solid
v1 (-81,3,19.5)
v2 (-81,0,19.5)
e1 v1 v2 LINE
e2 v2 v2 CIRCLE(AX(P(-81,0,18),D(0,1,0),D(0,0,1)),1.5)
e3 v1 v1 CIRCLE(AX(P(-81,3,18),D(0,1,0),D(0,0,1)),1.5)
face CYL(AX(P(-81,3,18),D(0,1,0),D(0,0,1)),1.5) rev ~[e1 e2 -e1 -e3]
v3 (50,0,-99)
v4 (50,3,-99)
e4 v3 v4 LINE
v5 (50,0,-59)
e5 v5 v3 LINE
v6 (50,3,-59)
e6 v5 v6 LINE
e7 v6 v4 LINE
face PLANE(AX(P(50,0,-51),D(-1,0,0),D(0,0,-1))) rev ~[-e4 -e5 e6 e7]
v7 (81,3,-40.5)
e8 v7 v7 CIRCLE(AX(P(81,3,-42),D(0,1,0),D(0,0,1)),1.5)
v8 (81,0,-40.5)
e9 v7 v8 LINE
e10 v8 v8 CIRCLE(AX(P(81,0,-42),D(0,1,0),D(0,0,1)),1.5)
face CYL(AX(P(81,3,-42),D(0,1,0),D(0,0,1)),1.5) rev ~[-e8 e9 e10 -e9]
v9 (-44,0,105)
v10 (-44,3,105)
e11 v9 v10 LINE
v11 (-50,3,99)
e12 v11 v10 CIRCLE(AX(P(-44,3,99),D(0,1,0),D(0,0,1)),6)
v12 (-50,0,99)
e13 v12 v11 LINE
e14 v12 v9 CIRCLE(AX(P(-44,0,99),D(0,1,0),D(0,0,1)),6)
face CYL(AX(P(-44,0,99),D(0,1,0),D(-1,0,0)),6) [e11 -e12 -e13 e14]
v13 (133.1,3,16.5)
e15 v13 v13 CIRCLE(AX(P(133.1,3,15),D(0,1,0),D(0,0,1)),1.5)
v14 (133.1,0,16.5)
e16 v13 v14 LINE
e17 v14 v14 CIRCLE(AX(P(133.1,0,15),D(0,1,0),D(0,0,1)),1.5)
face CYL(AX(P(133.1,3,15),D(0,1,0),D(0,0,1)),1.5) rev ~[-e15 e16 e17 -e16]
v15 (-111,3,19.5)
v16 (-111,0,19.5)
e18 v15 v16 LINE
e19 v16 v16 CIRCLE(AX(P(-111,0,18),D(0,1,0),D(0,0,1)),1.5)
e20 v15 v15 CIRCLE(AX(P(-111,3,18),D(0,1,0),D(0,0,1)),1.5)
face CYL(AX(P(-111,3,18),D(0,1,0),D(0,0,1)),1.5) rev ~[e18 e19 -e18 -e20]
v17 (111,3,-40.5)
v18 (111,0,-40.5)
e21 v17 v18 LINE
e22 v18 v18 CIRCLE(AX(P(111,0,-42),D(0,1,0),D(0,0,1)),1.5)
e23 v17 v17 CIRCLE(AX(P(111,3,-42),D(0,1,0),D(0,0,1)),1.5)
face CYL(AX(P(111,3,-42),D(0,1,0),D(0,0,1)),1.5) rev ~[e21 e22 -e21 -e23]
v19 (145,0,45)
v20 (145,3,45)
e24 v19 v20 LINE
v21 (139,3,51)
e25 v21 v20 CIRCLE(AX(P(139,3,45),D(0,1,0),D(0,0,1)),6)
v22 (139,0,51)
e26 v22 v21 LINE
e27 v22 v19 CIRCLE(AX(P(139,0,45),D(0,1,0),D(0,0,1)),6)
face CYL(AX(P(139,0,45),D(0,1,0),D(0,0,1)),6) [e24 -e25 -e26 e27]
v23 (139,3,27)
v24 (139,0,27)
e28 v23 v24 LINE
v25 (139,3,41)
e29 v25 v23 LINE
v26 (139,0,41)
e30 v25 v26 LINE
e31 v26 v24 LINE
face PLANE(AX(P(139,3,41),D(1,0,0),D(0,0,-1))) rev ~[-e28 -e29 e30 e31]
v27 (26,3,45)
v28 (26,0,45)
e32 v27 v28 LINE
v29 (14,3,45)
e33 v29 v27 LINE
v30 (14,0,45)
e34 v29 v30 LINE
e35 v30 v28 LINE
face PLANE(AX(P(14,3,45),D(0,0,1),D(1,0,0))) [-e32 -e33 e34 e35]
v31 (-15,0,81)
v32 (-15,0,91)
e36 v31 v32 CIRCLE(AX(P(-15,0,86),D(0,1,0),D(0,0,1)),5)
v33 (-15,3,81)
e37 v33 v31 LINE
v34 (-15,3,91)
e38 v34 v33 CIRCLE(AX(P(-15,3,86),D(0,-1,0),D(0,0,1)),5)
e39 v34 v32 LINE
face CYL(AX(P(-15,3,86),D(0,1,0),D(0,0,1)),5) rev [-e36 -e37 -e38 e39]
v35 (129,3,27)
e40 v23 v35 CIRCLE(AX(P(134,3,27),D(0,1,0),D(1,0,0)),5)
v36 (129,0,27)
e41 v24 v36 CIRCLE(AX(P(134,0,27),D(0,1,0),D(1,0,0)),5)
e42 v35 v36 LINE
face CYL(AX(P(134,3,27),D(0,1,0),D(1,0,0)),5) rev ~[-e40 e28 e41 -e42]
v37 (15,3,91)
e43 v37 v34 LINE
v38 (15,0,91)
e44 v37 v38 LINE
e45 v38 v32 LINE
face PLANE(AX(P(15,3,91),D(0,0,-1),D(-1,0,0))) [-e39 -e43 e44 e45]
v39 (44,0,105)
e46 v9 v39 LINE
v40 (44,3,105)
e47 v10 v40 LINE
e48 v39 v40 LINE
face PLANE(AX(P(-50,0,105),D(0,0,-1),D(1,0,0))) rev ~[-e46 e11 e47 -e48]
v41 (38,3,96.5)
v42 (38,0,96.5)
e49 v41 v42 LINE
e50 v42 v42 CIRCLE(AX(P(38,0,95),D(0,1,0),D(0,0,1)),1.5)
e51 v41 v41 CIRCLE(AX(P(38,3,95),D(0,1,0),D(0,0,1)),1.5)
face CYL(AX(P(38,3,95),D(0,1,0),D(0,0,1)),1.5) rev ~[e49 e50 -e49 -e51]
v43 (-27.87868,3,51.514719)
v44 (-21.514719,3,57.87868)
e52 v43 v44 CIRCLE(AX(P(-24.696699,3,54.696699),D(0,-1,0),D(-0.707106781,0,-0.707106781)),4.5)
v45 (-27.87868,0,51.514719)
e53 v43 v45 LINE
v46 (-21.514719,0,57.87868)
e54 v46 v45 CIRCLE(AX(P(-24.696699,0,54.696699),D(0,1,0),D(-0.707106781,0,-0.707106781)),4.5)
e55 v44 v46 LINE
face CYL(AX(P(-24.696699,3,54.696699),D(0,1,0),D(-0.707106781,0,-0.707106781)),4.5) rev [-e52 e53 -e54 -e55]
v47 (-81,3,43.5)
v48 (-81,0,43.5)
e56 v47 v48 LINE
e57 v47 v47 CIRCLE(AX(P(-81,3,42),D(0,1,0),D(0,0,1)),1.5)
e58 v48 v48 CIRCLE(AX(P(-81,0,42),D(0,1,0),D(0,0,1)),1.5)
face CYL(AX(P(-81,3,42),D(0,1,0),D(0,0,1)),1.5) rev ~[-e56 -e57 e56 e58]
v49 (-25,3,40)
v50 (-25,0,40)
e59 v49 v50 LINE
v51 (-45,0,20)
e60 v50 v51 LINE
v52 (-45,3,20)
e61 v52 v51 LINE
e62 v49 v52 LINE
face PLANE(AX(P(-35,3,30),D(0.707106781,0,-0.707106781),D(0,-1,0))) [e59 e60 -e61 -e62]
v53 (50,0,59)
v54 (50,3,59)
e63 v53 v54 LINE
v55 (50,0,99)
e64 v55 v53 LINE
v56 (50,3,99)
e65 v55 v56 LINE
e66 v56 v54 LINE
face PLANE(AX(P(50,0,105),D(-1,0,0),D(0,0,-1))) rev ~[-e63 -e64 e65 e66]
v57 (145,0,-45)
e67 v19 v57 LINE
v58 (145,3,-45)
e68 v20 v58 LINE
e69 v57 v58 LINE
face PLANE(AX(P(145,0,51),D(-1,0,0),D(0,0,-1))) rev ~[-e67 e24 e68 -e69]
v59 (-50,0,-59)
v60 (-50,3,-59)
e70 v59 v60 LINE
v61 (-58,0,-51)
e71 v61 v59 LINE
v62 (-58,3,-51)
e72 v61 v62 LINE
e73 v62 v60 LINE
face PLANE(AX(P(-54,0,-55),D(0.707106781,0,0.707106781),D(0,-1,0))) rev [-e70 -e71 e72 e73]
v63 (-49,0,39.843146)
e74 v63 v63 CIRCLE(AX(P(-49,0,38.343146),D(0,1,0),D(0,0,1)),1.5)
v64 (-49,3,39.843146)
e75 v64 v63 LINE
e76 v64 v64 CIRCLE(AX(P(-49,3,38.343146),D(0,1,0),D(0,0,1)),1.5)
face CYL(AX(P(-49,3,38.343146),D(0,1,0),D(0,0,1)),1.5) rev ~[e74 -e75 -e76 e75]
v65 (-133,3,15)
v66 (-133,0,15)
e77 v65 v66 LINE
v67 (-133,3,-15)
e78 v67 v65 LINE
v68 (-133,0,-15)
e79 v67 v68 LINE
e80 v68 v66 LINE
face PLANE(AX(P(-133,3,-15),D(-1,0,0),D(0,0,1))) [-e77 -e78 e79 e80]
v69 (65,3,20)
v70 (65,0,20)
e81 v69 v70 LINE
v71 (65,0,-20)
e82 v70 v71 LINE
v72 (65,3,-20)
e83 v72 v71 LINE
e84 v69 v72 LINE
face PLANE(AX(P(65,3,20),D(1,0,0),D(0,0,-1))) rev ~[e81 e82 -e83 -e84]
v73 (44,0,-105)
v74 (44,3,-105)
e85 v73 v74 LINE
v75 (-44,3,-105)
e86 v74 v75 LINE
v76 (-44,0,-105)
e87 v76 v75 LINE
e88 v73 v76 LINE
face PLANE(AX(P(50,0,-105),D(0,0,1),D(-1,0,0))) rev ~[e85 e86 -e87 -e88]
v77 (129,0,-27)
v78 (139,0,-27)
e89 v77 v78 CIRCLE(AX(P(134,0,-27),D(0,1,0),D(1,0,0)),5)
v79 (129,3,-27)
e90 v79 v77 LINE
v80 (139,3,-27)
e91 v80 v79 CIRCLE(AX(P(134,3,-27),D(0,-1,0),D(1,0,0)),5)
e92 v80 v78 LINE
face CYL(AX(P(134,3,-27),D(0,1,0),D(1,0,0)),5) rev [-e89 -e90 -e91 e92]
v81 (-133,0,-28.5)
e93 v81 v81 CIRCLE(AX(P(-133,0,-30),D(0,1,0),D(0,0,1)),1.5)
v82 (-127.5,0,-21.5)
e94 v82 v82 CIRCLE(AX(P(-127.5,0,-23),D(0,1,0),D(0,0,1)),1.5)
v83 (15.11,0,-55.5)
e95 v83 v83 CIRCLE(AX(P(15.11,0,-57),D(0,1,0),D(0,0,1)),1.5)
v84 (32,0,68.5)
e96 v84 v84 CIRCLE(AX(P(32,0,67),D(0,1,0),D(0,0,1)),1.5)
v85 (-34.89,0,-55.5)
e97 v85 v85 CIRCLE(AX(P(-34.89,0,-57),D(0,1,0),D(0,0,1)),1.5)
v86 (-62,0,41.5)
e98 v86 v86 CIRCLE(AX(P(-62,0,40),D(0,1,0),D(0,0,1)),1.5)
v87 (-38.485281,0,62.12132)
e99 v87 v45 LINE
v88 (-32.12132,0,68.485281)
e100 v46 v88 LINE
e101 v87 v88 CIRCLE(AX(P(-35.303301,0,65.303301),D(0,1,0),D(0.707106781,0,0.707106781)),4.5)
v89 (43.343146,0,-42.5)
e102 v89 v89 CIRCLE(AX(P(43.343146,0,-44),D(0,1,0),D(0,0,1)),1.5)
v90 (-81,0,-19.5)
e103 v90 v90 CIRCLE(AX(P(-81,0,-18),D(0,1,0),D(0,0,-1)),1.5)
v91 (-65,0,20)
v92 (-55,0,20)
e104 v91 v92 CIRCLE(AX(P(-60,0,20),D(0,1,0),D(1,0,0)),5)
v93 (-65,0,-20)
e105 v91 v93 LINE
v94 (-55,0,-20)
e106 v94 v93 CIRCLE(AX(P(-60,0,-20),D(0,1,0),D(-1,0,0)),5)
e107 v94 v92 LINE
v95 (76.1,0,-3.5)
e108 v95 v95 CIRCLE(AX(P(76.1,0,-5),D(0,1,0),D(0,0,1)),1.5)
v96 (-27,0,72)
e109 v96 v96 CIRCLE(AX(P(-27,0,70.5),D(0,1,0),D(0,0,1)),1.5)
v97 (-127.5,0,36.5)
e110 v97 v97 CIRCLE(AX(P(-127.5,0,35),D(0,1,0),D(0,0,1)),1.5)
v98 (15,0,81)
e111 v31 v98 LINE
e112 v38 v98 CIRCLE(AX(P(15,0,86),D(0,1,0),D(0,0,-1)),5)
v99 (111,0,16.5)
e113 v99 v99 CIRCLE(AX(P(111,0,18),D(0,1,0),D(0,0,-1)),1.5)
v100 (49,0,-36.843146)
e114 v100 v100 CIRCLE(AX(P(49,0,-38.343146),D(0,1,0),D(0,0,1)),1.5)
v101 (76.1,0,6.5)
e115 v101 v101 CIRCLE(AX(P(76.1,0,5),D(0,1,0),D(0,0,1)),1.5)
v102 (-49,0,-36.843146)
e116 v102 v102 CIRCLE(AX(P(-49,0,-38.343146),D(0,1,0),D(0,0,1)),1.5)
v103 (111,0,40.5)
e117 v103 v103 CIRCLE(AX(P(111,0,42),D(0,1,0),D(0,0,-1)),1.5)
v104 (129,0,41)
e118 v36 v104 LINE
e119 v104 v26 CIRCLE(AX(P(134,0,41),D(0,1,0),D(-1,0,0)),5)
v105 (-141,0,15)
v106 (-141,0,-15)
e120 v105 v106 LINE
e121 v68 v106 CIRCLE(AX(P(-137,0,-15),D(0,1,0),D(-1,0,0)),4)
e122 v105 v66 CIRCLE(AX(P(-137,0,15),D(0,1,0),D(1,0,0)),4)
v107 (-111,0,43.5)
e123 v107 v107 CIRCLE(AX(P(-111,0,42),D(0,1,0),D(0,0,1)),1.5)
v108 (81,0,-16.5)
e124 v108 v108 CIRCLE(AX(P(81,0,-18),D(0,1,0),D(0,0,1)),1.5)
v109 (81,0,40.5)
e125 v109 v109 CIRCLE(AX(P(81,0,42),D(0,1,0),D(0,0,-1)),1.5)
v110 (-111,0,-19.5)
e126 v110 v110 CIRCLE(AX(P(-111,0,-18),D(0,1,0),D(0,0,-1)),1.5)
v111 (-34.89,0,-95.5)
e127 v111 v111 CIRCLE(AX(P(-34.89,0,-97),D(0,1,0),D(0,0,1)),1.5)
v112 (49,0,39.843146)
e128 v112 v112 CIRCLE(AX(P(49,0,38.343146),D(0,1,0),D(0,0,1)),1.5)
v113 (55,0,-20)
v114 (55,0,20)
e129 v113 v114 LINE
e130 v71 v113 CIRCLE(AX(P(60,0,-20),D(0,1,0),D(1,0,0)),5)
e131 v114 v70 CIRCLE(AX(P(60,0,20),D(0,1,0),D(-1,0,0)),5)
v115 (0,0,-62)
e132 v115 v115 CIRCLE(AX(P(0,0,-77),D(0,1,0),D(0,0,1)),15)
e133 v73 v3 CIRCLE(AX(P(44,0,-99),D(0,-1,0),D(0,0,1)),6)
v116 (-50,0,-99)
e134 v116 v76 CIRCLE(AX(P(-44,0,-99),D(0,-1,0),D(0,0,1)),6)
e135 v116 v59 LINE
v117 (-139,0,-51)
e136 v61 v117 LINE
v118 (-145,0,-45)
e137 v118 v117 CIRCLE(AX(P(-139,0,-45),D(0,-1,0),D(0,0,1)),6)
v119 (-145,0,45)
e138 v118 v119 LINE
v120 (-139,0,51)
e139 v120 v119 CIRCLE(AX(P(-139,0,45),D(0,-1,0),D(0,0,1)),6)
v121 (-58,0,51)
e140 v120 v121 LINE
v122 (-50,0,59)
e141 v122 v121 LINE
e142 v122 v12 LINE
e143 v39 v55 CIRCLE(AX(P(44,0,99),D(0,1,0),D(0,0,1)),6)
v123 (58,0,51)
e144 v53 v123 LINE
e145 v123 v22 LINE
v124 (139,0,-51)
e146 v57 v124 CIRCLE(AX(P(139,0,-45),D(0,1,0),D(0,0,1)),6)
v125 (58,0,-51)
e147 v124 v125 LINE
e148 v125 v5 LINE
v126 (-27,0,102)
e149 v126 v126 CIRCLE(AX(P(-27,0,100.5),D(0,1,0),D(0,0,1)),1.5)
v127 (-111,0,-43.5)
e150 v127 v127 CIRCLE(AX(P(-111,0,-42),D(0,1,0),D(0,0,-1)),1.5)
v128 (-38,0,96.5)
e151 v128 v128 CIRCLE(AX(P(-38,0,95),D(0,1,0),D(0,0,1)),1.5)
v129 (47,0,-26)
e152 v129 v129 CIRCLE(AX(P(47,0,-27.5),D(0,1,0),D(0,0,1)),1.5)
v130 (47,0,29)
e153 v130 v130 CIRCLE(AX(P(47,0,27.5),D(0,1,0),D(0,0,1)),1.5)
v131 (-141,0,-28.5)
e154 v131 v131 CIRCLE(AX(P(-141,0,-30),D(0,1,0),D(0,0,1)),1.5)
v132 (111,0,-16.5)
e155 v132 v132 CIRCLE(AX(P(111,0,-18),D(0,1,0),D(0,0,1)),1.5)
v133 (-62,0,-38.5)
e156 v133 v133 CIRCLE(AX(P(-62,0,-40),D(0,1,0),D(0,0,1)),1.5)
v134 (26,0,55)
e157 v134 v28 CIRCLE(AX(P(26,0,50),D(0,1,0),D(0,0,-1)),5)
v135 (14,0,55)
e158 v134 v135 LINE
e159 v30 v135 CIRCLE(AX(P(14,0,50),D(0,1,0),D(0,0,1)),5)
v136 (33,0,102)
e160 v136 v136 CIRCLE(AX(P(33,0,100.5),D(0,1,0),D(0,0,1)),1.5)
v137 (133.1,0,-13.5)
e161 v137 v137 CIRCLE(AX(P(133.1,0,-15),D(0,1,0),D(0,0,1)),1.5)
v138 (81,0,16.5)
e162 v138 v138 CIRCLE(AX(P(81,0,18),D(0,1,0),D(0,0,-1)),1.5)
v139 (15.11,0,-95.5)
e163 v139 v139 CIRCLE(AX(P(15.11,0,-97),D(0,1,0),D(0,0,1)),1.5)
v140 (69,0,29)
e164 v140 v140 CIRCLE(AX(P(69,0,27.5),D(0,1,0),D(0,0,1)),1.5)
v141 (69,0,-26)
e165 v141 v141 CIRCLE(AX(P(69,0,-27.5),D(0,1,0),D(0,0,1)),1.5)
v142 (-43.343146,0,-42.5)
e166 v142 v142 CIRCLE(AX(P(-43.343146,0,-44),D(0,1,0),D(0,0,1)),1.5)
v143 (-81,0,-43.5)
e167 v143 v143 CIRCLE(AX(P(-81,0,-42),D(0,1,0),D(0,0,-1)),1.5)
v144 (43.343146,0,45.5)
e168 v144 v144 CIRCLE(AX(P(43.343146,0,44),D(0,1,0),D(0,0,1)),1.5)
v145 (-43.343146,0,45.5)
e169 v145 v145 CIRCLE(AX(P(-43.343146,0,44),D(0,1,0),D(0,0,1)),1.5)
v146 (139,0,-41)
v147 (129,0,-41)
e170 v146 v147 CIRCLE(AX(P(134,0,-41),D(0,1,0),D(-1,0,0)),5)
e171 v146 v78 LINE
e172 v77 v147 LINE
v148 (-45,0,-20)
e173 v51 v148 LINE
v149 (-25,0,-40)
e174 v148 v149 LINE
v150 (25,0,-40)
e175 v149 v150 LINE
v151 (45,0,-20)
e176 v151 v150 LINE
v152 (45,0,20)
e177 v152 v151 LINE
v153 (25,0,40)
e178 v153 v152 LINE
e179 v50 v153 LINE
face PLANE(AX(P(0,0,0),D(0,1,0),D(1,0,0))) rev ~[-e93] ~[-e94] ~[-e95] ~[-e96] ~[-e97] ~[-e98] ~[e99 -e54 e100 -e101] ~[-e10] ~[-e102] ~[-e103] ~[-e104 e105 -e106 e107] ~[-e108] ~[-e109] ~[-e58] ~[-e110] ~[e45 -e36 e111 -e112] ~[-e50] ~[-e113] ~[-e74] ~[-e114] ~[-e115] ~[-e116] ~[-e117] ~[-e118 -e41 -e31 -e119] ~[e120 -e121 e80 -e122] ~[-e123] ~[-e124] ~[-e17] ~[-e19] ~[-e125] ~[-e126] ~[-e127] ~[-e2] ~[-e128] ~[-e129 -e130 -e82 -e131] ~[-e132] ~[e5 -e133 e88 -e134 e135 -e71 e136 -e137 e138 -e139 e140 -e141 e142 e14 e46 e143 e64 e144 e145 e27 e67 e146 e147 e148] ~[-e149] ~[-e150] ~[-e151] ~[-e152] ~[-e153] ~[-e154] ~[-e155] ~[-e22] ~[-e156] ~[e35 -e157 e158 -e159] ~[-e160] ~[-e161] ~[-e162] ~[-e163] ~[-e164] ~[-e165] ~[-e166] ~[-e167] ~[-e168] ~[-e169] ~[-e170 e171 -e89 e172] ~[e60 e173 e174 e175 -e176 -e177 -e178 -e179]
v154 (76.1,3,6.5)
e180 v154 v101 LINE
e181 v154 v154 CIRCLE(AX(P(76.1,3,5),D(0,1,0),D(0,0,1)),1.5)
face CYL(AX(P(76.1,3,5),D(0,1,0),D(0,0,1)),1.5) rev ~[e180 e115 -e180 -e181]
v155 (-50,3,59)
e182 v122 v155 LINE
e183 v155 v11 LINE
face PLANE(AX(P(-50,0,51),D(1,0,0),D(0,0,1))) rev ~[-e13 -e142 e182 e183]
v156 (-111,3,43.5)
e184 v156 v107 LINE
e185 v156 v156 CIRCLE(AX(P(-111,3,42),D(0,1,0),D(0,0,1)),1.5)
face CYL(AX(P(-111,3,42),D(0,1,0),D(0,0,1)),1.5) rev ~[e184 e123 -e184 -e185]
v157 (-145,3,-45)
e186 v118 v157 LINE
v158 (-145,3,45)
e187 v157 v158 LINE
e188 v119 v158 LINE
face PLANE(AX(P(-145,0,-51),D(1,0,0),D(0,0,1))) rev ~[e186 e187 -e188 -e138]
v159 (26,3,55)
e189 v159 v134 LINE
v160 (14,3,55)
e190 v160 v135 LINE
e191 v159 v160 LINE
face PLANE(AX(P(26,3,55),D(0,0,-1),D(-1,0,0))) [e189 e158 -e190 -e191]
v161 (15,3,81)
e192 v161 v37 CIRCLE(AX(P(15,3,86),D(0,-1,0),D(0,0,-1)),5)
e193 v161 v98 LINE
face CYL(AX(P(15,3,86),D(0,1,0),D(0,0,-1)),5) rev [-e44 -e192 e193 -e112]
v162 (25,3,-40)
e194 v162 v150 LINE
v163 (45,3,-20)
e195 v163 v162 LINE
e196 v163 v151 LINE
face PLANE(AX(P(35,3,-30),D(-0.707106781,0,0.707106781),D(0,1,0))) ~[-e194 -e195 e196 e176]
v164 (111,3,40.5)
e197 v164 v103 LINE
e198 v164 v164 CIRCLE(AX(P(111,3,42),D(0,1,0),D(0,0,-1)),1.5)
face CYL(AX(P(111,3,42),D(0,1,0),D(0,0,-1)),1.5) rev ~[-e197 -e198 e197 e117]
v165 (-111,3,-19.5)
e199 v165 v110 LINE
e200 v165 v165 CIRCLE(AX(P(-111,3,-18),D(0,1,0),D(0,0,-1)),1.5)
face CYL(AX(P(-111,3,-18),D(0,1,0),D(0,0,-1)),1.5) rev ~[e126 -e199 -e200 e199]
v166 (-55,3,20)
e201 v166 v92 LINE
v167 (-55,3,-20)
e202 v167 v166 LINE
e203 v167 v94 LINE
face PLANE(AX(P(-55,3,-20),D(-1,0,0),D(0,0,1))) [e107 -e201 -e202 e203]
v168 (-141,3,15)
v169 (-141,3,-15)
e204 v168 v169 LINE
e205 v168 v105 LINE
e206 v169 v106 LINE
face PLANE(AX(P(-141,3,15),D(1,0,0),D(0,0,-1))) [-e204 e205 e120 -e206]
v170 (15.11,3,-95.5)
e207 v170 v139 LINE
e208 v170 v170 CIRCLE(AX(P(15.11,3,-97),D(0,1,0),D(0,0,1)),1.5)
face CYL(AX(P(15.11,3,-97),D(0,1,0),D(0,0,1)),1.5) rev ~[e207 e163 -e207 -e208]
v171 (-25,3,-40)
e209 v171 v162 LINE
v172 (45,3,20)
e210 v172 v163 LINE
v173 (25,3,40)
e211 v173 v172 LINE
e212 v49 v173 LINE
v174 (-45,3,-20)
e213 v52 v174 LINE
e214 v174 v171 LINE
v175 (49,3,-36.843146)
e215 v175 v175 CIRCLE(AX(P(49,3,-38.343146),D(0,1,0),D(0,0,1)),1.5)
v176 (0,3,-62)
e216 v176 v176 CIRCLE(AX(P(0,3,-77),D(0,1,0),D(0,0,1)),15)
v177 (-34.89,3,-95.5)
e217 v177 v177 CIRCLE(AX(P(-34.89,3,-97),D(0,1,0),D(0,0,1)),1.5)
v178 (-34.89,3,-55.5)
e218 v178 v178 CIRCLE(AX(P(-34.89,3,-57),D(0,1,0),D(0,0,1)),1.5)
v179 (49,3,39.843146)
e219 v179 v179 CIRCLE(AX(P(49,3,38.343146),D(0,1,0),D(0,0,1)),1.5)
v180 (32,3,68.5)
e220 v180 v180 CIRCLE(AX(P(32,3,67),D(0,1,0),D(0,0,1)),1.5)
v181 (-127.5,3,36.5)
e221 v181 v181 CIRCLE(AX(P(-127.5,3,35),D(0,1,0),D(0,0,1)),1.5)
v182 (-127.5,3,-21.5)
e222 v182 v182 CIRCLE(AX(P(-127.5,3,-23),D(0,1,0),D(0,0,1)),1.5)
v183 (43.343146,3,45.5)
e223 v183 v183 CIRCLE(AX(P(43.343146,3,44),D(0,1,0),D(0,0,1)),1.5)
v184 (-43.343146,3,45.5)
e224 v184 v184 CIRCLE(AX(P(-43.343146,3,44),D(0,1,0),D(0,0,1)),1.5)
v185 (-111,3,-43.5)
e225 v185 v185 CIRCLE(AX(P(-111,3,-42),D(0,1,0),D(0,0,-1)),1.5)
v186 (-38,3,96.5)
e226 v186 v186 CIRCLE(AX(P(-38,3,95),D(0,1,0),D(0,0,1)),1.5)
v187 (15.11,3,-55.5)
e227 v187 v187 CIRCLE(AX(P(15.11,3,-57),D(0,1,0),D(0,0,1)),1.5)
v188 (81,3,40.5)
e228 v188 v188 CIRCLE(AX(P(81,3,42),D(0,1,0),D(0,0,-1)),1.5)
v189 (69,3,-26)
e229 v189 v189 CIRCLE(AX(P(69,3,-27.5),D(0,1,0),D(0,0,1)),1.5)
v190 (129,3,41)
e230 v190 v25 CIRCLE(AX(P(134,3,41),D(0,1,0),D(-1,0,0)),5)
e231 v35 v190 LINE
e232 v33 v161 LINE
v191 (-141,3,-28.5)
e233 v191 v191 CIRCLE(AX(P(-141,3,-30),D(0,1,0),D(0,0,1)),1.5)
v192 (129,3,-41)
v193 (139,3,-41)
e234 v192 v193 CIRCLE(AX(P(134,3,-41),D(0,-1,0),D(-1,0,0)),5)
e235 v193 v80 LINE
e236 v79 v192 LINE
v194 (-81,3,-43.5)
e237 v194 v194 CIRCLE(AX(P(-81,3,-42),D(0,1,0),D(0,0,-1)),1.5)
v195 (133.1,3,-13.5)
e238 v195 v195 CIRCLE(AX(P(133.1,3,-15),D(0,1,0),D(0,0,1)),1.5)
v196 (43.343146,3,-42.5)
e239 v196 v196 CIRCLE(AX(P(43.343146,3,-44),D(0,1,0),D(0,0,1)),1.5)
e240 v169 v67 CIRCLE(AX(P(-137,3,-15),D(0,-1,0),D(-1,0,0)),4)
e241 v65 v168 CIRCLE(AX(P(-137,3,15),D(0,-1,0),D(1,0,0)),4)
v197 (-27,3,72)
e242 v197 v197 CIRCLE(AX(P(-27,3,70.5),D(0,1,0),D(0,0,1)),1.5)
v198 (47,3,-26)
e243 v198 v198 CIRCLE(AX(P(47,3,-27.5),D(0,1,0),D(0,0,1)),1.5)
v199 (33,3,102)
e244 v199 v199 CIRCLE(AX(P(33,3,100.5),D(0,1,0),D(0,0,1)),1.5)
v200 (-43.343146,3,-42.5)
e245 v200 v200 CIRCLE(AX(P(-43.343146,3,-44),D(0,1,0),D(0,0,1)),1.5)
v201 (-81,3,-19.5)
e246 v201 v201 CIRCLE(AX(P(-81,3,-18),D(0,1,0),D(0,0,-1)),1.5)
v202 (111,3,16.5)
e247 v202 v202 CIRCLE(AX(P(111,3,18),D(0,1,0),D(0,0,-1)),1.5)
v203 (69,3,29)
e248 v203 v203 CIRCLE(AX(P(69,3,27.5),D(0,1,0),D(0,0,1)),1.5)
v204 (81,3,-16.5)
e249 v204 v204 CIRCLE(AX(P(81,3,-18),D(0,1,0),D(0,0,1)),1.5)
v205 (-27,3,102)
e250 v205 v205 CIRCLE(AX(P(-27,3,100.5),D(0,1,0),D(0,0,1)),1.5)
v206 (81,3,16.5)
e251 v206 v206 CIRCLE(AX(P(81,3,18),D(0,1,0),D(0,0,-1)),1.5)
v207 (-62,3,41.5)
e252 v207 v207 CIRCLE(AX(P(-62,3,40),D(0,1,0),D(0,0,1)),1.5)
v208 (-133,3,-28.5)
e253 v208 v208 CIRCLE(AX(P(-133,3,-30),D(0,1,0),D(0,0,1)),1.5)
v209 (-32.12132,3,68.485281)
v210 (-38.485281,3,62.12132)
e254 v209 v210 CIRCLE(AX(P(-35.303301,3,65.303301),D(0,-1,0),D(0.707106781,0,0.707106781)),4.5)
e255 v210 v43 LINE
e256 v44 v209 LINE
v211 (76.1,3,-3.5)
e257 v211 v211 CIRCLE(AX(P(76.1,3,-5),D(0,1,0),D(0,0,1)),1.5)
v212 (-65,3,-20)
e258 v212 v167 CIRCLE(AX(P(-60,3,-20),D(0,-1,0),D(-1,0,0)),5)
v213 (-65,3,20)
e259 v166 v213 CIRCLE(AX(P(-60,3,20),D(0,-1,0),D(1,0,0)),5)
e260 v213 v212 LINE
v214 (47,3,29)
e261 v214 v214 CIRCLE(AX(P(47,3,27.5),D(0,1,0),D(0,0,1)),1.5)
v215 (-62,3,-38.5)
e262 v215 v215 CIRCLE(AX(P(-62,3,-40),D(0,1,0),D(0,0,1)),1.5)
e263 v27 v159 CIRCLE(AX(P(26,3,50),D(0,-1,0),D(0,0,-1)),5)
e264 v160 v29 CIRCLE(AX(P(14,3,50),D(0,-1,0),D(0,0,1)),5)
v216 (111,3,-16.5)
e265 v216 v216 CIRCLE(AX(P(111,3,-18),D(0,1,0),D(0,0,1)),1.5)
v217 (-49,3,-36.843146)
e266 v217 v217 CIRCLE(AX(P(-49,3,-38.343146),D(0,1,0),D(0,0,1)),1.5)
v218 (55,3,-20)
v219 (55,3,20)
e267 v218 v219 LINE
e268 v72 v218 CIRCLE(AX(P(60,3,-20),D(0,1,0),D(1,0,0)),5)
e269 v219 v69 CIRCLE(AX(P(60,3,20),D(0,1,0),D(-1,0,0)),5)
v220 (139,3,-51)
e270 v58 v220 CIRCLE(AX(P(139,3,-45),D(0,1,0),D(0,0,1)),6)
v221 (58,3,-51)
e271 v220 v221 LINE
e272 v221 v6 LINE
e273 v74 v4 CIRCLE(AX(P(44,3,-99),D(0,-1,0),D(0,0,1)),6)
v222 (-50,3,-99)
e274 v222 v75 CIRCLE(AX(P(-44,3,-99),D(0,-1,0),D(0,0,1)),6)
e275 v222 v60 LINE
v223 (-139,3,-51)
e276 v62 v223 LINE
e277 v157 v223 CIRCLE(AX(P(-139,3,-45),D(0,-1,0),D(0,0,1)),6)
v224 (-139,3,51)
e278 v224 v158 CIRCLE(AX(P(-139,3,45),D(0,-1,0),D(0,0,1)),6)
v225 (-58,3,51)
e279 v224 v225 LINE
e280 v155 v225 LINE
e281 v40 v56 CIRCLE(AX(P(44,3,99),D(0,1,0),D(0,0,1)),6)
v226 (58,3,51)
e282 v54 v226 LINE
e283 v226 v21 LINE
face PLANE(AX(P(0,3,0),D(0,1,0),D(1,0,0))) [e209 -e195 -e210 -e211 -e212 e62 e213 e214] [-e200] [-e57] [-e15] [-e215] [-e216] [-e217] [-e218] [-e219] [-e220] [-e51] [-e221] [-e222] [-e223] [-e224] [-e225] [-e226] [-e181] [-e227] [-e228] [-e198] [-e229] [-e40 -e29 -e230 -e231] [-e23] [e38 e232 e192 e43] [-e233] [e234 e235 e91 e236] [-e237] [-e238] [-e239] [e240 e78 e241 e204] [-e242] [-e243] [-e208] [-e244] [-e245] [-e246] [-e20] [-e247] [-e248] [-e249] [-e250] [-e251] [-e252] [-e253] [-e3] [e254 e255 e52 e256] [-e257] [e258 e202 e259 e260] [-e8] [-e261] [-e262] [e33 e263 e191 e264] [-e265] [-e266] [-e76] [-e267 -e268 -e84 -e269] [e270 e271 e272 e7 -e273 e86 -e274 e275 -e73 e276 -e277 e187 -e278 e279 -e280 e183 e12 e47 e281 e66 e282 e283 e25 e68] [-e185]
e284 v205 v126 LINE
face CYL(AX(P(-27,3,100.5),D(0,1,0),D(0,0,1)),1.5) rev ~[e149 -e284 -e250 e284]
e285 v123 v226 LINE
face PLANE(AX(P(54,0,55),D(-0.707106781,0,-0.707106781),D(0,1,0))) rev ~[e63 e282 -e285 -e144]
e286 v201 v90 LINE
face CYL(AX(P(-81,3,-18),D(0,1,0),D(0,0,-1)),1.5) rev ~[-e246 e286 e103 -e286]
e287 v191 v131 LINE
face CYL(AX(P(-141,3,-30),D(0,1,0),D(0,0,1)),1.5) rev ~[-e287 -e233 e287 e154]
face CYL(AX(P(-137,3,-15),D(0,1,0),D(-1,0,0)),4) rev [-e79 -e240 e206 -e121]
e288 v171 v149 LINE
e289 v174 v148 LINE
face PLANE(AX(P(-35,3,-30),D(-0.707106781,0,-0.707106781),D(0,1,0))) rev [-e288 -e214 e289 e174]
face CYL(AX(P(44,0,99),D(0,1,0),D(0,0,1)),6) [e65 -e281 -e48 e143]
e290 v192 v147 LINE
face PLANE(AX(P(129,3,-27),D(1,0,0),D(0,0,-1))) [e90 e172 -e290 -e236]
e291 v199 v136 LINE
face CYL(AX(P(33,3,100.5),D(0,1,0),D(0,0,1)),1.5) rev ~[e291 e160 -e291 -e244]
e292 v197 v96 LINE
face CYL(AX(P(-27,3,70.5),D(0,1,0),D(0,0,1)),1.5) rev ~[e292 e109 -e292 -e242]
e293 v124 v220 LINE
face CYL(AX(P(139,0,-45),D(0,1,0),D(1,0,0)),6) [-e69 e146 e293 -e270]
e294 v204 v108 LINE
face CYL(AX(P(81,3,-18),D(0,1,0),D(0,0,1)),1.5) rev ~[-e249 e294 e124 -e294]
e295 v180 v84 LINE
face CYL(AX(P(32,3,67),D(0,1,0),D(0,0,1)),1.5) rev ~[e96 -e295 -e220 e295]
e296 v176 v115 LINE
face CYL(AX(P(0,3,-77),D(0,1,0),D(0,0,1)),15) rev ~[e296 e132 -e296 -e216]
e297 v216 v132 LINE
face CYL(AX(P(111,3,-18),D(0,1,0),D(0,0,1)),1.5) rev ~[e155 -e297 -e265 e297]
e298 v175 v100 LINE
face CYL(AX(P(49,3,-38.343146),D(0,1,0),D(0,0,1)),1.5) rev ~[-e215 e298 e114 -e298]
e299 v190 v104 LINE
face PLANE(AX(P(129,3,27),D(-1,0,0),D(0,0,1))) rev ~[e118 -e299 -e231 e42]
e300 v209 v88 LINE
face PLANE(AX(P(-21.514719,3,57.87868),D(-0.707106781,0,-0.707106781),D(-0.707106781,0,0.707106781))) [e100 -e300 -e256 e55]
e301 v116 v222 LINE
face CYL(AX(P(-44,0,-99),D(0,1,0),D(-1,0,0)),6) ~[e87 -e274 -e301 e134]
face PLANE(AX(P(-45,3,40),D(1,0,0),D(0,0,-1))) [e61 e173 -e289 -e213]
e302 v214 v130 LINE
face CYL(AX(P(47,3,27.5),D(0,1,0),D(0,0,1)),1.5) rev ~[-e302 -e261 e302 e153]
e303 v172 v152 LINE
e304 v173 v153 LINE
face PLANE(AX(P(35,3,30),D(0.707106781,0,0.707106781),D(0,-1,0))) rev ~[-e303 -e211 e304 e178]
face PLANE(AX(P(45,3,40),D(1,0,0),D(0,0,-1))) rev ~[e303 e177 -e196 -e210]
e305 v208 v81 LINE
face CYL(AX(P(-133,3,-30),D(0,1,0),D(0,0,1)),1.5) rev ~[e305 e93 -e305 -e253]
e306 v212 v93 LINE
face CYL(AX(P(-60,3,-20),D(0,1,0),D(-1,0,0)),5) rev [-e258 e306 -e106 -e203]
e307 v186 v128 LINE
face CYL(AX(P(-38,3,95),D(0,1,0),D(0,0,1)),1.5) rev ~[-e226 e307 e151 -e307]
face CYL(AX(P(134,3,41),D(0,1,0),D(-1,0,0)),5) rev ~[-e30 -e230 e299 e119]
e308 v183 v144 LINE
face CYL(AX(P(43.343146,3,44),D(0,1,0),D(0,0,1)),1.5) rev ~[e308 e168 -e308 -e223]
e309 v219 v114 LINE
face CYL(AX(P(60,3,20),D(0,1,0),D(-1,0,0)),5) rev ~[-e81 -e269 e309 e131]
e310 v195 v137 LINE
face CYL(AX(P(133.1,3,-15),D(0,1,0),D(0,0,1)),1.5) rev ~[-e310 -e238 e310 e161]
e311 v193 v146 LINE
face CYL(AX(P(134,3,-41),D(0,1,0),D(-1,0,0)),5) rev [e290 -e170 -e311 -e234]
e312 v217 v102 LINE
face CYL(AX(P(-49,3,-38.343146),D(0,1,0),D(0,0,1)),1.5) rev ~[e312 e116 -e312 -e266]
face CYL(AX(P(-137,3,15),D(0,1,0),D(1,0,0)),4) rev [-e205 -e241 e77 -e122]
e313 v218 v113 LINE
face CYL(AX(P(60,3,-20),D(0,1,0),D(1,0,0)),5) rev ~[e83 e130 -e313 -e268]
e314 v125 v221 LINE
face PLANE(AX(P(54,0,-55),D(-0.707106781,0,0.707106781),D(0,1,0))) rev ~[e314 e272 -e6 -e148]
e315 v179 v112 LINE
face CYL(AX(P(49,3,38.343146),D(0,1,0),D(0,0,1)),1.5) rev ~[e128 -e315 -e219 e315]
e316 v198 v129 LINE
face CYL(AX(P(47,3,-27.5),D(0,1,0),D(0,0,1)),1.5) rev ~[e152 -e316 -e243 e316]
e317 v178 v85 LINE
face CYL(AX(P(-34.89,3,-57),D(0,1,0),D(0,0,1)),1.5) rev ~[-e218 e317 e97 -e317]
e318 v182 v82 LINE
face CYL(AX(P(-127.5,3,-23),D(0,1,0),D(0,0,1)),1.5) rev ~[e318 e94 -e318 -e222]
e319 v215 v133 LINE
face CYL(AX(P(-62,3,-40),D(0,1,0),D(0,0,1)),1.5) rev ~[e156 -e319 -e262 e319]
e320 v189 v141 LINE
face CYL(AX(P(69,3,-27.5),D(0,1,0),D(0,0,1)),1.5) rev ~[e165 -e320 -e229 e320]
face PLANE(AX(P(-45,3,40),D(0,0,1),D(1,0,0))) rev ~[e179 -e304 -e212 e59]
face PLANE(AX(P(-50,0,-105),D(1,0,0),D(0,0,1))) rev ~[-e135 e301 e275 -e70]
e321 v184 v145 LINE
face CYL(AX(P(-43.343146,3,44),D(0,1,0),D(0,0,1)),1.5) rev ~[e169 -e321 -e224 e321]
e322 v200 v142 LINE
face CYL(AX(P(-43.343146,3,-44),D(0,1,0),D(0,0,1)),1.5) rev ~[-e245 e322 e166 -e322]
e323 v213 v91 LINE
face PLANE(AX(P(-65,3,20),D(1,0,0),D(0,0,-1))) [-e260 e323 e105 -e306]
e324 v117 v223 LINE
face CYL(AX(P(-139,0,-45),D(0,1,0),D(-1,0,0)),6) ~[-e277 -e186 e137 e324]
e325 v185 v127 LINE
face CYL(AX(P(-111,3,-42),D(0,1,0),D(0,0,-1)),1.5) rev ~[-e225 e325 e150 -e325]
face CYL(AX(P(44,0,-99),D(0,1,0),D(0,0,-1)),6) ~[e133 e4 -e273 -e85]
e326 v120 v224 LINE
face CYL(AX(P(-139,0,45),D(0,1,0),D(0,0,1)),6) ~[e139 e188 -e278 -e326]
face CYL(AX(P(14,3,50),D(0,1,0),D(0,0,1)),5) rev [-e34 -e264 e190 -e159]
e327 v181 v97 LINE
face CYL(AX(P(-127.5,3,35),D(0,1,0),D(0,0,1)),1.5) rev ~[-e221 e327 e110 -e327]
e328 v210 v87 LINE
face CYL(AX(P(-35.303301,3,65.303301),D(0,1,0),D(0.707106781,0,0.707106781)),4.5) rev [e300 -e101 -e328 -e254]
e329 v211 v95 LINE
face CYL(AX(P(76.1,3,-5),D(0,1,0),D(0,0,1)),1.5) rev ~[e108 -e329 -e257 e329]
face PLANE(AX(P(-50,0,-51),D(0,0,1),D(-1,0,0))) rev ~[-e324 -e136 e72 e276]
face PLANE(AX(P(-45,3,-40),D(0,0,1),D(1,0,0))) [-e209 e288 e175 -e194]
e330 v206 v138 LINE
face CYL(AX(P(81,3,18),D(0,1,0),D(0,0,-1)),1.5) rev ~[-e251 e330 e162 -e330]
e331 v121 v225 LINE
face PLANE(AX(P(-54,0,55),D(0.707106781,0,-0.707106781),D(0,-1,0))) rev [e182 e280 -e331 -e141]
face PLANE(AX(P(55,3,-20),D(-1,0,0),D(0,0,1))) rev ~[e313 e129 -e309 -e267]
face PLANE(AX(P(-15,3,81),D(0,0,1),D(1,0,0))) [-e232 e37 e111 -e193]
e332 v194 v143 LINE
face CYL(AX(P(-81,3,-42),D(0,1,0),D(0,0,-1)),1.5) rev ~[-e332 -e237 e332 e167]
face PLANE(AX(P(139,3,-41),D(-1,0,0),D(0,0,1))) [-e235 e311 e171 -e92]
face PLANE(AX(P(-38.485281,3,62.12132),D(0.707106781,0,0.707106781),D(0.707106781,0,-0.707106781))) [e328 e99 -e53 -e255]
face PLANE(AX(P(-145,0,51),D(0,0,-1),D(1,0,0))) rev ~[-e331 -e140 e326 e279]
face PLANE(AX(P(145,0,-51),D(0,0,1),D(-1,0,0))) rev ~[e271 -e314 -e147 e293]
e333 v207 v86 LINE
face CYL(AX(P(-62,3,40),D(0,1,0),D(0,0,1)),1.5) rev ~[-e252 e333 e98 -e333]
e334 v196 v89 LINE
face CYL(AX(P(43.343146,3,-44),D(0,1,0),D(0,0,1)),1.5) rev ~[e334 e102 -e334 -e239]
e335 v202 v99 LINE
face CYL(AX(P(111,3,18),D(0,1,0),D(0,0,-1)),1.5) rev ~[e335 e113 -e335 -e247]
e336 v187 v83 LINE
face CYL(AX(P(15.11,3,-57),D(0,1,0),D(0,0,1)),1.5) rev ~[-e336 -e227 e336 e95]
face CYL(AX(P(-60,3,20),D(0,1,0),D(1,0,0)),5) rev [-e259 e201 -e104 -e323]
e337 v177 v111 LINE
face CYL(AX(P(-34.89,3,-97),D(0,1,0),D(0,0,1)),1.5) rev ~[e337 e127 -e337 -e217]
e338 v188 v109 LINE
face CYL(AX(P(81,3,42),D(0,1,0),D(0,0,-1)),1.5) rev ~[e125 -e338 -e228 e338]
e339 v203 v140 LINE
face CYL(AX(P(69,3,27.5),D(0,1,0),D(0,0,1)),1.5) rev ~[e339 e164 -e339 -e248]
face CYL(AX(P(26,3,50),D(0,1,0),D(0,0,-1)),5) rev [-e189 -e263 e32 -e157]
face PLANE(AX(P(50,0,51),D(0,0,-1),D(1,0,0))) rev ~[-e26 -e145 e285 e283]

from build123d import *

# Parameters (mm, degrees)
EXTRUDE_1_DEPTH      = 3
SKETCH_2_R           = 1.5
CUT_EXTRUDE_1_DEPTH  = 3
SKETCH_3_R           = 15
SKETCH_3_R_2         = 1.5
CUT_EXTRUDE_2_DEPTH  = 10
SKETCH_4_W           = 90
SKETCH_4_H           = 80
CUT_EXTRUDE_3_DEPTH  = 3
FILLET_3_R           = 6
CHAMFER_1_SIZE       = 8
SKETCH_7_R           = 1.5
CUT_EXTRUDE_6_DEPTH  = 10
CHAMFER_2_SIZE       = 20
SKETCH_8_R           = 1.5
CUT_EXTRUDE_7_DEPTH  = 10
SKETCH_9_R           = 1.5
CUT_EXTRUDE_8_DEPTH  = 10
SKETCH_10_R          = 1.5
CUT_EXTRUDE_9_DEPTH  = 10
CUT_EXTRUDE_10_DEPTH = 10


with BuildPart() as part:
    # 草图1 → 凸台-拉伸1 (new body)
    with BuildSketch(Plane(origin=(0, 0, 0), x_dir=(1, 0, 0), z_dir=(0, 1, 0))):
        Polygon((-50, -51), (-50, -105), (50, -105), (50, -51), (145, -51), (145, 51), (50, 51), (50, 105), (-50, 105), (-50, 51), (-145, 51), (-145, -51), align=None)
    extrude(amount=EXTRUDE_1_DEPTH)

    # 草图2 → 切除-拉伸1 (cut)
    with BuildSketch(Plane(origin=(0, 3, 0), x_dir=(1, 0, 0), z_dir=(0, 1, 0))):
        with Locations(Location((111, 42, 0), (0, 0, 270))):
            Circle(SKETCH_2_R)
        with Locations(Location((81, 42, 0), (0, 0, 270))):
            Circle(SKETCH_2_R)
        with Locations(Location((81, 18, 0), (0, 0, 270))):
            Circle(SKETCH_2_R)
        with Locations(Location((111, 18, 0), (0, 0, 270))):
            Circle(SKETCH_2_R)
        with Locations(Location((111, -18, 0), (0, 0, 90))):
            Circle(SKETCH_2_R)
        with Locations(Location((111, -42, 0), (0, 0, 90))):
            Circle(SKETCH_2_R)
        with Locations(Location((81, -18, 0), (0, 0, 90))):
            Circle(SKETCH_2_R)
        with Locations(Location((81, -42, 0), (0, 0, 90))):
            Circle(SKETCH_2_R)
        with Locations(Location((-81, -42, 0), (0, 0, 270))):
            Circle(SKETCH_2_R)
        with Locations(Location((-81, -18, 0), (0, 0, 270))):
            Circle(SKETCH_2_R)
        with Locations(Location((-111, -42, 0), (0, 0, 270))):
            Circle(SKETCH_2_R)
        with Locations(Location((-111, -18, 0), (0, 0, 270))):
            Circle(SKETCH_2_R)
        with Locations(Location((-111, 18, 0), (0, 0, 90))):
            Circle(SKETCH_2_R)
        with Locations(Location((-81, 18, 0), (0, 0, 90))):
            Circle(SKETCH_2_R)
        with Locations(Location((-81, 42, 0), (0, 0, 90))):
            Circle(SKETCH_2_R)
        with Locations(Location((-111, 42, 0), (0, 0, 90))):
            Circle(SKETCH_2_R)
    extrude(amount=-CUT_EXTRUDE_1_DEPTH, mode=Mode.SUBTRACT)

    # 草图3 → 切除-拉伸2 (cut)
    with BuildSketch(Plane(origin=(0, 3, 0), x_dir=(1, 0, 0), z_dir=(0, 1, 0))):
        with Locations(Location((0, 77, 0), (0, 0, 270))):
            Circle(SKETCH_3_R)
        with Locations(Location((15.11, 97, 0), (0, 0, 270))):
            Circle(SKETCH_3_R_2)
        with Locations(Location((15.11, 57, 0), (0, 0, 270))):
            Circle(SKETCH_3_R_2)
        with Locations(Location((-34.89, 57, 0), (0, 0, 270))):
            Circle(SKETCH_3_R_2)
        with Locations(Location((-34.89, 97, 0), (0, 0, 270))):
            Circle(SKETCH_3_R_2)
        with Locations(Location((-27, -70.5, 0), (0, 0, 270))):
            Circle(SKETCH_3_R_2)
        with Locations(Location((32, -67, 0), (0, 0, 270))):
            Circle(SKETCH_3_R_2)
        with Locations(Location((-27, -100.5, 0), (0, 0, 270))):
            Circle(SKETCH_3_R_2)
        with Locations(Location((33, -100.5, 0), (0, 0, 270))):
            Circle(SKETCH_3_R_2)
    extrude(amount=-CUT_EXTRUDE_2_DEPTH, mode=Mode.SUBTRACT)

    # 草图4 → 切除-拉伸3 (cut)
    with BuildSketch(Plane(origin=(0, 3, 0), x_dir=(1, 0, 0), z_dir=(0, 1, 0))):
        Rectangle(SKETCH_4_W, SKETCH_4_H)
    extrude(amount=-CUT_EXTRUDE_3_DEPTH, mode=Mode.SUBTRACT)

    # 圆角3
    fillet_3_edges = [part.edges().sort_by_distance(p)[0] for p in [
        (-145, 1.5, 51),
        (-145, 1.5, -51),
        (-50, 1.5, -105),
        (50, 1.5, -105),
        (145, 1.5, -51),
        (145, 1.5, 51),
        (50, 1.5, 105),
        (-50, 1.5, 105),
    ]]
    fillet(fillet_3_edges, radius=FILLET_3_R)

    # 倒角1
    chamfer_1_edges = [part.edges().sort_by_distance(p)[0] for p in [
        (-50, 1.5, 51),
        (-50, 1.5, -51),
        (50, 1.5, -51),
        (50, 1.5, 51),
    ]]
    chamfer(chamfer_1_edges, length=CHAMFER_1_SIZE)

    # 草图7 → 切除-拉伸6 (cut)
    with BuildSketch(Plane(origin=(0, 3, 0), x_dir=(1, 0, 0), z_dir=(0, 1, 0))):
        with Locations(Location((47, 27.5, 0), (0, 0, 270))):
            Circle(SKETCH_7_R)
        with Locations(Location((47, -27.5, 0), (0, 0, 270))):
            Circle(SKETCH_7_R)
        with Locations(Location((69, 27.5, 0), (0, 0, 270))):
            Circle(SKETCH_7_R)
        with Locations(Location((69, -27.5, 0), (0, 0, 270))):
            Circle(SKETCH_7_R)
        with BuildLine():
            Line((-65, -20), (-65, 20))
            ThreePointArc((-65, 20), (-60, 25), (-55, 20))
            Line((-55, 20), (-55, -20))
            ThreePointArc((-55, -20), (-60, -25), (-65, -20))
        make_face()
        with BuildLine():
            Line((65, -20), (65, 20))
            ThreePointArc((65, 20), (60, 25), (55, 20))
            Line((55, 20), (55, -20))
            ThreePointArc((55, -20), (60, -25), (65, -20))
        make_face()
        with BuildLine():
            Line((-141, -15), (-141, 15))
            ThreePointArc((-141, 15), (-137, 19), (-133, 15))
            Line((-133, 15), (-133, -15))
            ThreePointArc((-133, -15), (-137, -19), (-141, -15))
        make_face()
        with BuildLine():
            Line((129, 27), (129, 41))
            ThreePointArc((129, 41), (134, 46), (139, 41))
            Line((139, 41), (139, 27))
            ThreePointArc((139, 27), (134, 22), (129, 27))
        make_face()
        with BuildLine():
            Line((129, -27), (129, -41))
            ThreePointArc((129, -41), (134, -46), (139, -41))
            Line((139, -41), (139, -27))
            ThreePointArc((139, -27), (134, -22), (129, -27))
        make_face()
    extrude(amount=-CUT_EXTRUDE_6_DEPTH, mode=Mode.SUBTRACT)

    # 倒角2
    chamfer_2_edges = [part.edges().sort_by_distance(p)[0] for p in [
        (45, 1.5, -40),
        (45, 1.5, 40),
        (-45, 1.5, 40),
        (-45, 1.5, -40),
    ]]
    chamfer(chamfer_2_edges, length=CHAMFER_2_SIZE)

    # 草图8 → 切除-拉伸7 (cut)
    with BuildSketch(Plane(origin=(0, 3, 0), x_dir=(1, 0, 0), z_dir=(0, 1, 0))):
        with Locations(Location((-127.5, 23, 0), (0, 0, 270))):
            Circle(SKETCH_8_R)
        with Locations(Location((-127.5, -35, 0), (0, 0, 270))):
            Circle(SKETCH_8_R)
        with Locations(Location((-141, 30, 0), (0, 0, 270))):
            Circle(SKETCH_8_R)
        with Locations(Location((-133, 30, 0), (0, 0, 270))):
            Circle(SKETCH_8_R)
    extrude(amount=-CUT_EXTRUDE_7_DEPTH, mode=Mode.SUBTRACT)

    # 草图9 → 切除-拉伸8 (cut)
    with BuildSketch(Plane(origin=(0, 3, 0), x_dir=(1, 0, 0), z_dir=(0, 1, 0))):
        with Locations(Location((43.343145751, 44, 0), (0, 0, 270))):
            Circle(SKETCH_9_R)
        with Locations(Location((49, 38.343145751, 0), (0, 0, 270))):
            Circle(SKETCH_9_R)
        with Locations(Location((49, -38.343145751, 0), (0, 0, 270))):
            Circle(SKETCH_9_R)
        with Locations(Location((43.343145751, -44, 0), (0, 0, 270))):
            Circle(SKETCH_9_R)
        with Locations(Location((-43.343145751, -44, 0), (0, 0, 270))):
            Circle(SKETCH_9_R)
        with Locations(Location((-49, -38.343145751, 0), (0, 0, 270))):
            Circle(SKETCH_9_R)
        with Locations(Location((-49, 38.343145751, 0), (0, 0, 270))):
            Circle(SKETCH_9_R)
        with Locations(Location((-43.343145751, 44, 0), (0, 0, 270))):
            Circle(SKETCH_9_R)
        with Locations(Location((-38, -95, 0), (0, 0, 270))):
            Circle(SKETCH_9_R)
        with Locations(Location((38, -95, 0), (0, 0, 270))):
            Circle(SKETCH_9_R)
        with Locations(Location((-62, 40, 0), (0, 0, 270))):
            Circle(SKETCH_9_R)
        with Locations(Location((-62, -40, 0), (0, 0, 270))):
            Circle(SKETCH_9_R)
    extrude(amount=-CUT_EXTRUDE_8_DEPTH, mode=Mode.SUBTRACT)

    # 草图10 → 切除-拉伸9 (cut)
    with BuildSketch(Plane(origin=(0, 3, 0), x_dir=(1, 0, 0), z_dir=(0, 1, 0))):
        with Locations(Location((76.1, 5, 0), (0, 0, 270))):
            Circle(SKETCH_10_R)
        with Locations(Location((133.1, 15, 0), (0, 0, 270))):
            Circle(SKETCH_10_R)
        with Locations(Location((133.1, -15, 0), (0, 0, 270))):
            Circle(SKETCH_10_R)
        with Locations(Location((76.1, -5, 0), (0, 0, 270))):
            Circle(SKETCH_10_R)
    extrude(amount=-CUT_EXTRUDE_9_DEPTH, mode=Mode.SUBTRACT)

    # 草图11 → 切除-拉伸10 (cut)
    with BuildSketch(Plane(origin=(0, 3, 0), x_dir=(1, 0, 0), z_dir=(0, 1, 0))):
        with BuildLine():
            Line((-21.514718626, -57.878679656), (-32.121320344, -68.485281374))
            ThreePointArc((-32.121320344, -68.485281374), (-38.485281374, -68.485281374), (-38.485281374, -62.121320344))
            Line((-38.485281374, -62.121320344), (-27.878679656, -51.514718626))
            ThreePointArc((-27.878679656, -51.514718626), (-21.514718626, -51.514718626), (-21.514718626, -57.878679656))
        make_face()
        with BuildLine():
            Line((14, -45), (26, -45))
            ThreePointArc((26, -45), (31, -50), (26, -55))
            Line((26, -55), (14, -55))
            ThreePointArc((14, -55), (9, -50), (14, -45))
        make_face()
        with BuildLine():
            Line((-15, -81), (15, -81))
            ThreePointArc((15, -81), (20, -86), (15, -91))
            Line((15, -91), (-15, -91))
            ThreePointArc((-15, -91), (-20, -86), (-15, -81))
        make_face()
    extrude(amount=-CUT_EXTRUDE_10_DEPTH, mode=Mode.SUBTRACT)


solid = part.part
